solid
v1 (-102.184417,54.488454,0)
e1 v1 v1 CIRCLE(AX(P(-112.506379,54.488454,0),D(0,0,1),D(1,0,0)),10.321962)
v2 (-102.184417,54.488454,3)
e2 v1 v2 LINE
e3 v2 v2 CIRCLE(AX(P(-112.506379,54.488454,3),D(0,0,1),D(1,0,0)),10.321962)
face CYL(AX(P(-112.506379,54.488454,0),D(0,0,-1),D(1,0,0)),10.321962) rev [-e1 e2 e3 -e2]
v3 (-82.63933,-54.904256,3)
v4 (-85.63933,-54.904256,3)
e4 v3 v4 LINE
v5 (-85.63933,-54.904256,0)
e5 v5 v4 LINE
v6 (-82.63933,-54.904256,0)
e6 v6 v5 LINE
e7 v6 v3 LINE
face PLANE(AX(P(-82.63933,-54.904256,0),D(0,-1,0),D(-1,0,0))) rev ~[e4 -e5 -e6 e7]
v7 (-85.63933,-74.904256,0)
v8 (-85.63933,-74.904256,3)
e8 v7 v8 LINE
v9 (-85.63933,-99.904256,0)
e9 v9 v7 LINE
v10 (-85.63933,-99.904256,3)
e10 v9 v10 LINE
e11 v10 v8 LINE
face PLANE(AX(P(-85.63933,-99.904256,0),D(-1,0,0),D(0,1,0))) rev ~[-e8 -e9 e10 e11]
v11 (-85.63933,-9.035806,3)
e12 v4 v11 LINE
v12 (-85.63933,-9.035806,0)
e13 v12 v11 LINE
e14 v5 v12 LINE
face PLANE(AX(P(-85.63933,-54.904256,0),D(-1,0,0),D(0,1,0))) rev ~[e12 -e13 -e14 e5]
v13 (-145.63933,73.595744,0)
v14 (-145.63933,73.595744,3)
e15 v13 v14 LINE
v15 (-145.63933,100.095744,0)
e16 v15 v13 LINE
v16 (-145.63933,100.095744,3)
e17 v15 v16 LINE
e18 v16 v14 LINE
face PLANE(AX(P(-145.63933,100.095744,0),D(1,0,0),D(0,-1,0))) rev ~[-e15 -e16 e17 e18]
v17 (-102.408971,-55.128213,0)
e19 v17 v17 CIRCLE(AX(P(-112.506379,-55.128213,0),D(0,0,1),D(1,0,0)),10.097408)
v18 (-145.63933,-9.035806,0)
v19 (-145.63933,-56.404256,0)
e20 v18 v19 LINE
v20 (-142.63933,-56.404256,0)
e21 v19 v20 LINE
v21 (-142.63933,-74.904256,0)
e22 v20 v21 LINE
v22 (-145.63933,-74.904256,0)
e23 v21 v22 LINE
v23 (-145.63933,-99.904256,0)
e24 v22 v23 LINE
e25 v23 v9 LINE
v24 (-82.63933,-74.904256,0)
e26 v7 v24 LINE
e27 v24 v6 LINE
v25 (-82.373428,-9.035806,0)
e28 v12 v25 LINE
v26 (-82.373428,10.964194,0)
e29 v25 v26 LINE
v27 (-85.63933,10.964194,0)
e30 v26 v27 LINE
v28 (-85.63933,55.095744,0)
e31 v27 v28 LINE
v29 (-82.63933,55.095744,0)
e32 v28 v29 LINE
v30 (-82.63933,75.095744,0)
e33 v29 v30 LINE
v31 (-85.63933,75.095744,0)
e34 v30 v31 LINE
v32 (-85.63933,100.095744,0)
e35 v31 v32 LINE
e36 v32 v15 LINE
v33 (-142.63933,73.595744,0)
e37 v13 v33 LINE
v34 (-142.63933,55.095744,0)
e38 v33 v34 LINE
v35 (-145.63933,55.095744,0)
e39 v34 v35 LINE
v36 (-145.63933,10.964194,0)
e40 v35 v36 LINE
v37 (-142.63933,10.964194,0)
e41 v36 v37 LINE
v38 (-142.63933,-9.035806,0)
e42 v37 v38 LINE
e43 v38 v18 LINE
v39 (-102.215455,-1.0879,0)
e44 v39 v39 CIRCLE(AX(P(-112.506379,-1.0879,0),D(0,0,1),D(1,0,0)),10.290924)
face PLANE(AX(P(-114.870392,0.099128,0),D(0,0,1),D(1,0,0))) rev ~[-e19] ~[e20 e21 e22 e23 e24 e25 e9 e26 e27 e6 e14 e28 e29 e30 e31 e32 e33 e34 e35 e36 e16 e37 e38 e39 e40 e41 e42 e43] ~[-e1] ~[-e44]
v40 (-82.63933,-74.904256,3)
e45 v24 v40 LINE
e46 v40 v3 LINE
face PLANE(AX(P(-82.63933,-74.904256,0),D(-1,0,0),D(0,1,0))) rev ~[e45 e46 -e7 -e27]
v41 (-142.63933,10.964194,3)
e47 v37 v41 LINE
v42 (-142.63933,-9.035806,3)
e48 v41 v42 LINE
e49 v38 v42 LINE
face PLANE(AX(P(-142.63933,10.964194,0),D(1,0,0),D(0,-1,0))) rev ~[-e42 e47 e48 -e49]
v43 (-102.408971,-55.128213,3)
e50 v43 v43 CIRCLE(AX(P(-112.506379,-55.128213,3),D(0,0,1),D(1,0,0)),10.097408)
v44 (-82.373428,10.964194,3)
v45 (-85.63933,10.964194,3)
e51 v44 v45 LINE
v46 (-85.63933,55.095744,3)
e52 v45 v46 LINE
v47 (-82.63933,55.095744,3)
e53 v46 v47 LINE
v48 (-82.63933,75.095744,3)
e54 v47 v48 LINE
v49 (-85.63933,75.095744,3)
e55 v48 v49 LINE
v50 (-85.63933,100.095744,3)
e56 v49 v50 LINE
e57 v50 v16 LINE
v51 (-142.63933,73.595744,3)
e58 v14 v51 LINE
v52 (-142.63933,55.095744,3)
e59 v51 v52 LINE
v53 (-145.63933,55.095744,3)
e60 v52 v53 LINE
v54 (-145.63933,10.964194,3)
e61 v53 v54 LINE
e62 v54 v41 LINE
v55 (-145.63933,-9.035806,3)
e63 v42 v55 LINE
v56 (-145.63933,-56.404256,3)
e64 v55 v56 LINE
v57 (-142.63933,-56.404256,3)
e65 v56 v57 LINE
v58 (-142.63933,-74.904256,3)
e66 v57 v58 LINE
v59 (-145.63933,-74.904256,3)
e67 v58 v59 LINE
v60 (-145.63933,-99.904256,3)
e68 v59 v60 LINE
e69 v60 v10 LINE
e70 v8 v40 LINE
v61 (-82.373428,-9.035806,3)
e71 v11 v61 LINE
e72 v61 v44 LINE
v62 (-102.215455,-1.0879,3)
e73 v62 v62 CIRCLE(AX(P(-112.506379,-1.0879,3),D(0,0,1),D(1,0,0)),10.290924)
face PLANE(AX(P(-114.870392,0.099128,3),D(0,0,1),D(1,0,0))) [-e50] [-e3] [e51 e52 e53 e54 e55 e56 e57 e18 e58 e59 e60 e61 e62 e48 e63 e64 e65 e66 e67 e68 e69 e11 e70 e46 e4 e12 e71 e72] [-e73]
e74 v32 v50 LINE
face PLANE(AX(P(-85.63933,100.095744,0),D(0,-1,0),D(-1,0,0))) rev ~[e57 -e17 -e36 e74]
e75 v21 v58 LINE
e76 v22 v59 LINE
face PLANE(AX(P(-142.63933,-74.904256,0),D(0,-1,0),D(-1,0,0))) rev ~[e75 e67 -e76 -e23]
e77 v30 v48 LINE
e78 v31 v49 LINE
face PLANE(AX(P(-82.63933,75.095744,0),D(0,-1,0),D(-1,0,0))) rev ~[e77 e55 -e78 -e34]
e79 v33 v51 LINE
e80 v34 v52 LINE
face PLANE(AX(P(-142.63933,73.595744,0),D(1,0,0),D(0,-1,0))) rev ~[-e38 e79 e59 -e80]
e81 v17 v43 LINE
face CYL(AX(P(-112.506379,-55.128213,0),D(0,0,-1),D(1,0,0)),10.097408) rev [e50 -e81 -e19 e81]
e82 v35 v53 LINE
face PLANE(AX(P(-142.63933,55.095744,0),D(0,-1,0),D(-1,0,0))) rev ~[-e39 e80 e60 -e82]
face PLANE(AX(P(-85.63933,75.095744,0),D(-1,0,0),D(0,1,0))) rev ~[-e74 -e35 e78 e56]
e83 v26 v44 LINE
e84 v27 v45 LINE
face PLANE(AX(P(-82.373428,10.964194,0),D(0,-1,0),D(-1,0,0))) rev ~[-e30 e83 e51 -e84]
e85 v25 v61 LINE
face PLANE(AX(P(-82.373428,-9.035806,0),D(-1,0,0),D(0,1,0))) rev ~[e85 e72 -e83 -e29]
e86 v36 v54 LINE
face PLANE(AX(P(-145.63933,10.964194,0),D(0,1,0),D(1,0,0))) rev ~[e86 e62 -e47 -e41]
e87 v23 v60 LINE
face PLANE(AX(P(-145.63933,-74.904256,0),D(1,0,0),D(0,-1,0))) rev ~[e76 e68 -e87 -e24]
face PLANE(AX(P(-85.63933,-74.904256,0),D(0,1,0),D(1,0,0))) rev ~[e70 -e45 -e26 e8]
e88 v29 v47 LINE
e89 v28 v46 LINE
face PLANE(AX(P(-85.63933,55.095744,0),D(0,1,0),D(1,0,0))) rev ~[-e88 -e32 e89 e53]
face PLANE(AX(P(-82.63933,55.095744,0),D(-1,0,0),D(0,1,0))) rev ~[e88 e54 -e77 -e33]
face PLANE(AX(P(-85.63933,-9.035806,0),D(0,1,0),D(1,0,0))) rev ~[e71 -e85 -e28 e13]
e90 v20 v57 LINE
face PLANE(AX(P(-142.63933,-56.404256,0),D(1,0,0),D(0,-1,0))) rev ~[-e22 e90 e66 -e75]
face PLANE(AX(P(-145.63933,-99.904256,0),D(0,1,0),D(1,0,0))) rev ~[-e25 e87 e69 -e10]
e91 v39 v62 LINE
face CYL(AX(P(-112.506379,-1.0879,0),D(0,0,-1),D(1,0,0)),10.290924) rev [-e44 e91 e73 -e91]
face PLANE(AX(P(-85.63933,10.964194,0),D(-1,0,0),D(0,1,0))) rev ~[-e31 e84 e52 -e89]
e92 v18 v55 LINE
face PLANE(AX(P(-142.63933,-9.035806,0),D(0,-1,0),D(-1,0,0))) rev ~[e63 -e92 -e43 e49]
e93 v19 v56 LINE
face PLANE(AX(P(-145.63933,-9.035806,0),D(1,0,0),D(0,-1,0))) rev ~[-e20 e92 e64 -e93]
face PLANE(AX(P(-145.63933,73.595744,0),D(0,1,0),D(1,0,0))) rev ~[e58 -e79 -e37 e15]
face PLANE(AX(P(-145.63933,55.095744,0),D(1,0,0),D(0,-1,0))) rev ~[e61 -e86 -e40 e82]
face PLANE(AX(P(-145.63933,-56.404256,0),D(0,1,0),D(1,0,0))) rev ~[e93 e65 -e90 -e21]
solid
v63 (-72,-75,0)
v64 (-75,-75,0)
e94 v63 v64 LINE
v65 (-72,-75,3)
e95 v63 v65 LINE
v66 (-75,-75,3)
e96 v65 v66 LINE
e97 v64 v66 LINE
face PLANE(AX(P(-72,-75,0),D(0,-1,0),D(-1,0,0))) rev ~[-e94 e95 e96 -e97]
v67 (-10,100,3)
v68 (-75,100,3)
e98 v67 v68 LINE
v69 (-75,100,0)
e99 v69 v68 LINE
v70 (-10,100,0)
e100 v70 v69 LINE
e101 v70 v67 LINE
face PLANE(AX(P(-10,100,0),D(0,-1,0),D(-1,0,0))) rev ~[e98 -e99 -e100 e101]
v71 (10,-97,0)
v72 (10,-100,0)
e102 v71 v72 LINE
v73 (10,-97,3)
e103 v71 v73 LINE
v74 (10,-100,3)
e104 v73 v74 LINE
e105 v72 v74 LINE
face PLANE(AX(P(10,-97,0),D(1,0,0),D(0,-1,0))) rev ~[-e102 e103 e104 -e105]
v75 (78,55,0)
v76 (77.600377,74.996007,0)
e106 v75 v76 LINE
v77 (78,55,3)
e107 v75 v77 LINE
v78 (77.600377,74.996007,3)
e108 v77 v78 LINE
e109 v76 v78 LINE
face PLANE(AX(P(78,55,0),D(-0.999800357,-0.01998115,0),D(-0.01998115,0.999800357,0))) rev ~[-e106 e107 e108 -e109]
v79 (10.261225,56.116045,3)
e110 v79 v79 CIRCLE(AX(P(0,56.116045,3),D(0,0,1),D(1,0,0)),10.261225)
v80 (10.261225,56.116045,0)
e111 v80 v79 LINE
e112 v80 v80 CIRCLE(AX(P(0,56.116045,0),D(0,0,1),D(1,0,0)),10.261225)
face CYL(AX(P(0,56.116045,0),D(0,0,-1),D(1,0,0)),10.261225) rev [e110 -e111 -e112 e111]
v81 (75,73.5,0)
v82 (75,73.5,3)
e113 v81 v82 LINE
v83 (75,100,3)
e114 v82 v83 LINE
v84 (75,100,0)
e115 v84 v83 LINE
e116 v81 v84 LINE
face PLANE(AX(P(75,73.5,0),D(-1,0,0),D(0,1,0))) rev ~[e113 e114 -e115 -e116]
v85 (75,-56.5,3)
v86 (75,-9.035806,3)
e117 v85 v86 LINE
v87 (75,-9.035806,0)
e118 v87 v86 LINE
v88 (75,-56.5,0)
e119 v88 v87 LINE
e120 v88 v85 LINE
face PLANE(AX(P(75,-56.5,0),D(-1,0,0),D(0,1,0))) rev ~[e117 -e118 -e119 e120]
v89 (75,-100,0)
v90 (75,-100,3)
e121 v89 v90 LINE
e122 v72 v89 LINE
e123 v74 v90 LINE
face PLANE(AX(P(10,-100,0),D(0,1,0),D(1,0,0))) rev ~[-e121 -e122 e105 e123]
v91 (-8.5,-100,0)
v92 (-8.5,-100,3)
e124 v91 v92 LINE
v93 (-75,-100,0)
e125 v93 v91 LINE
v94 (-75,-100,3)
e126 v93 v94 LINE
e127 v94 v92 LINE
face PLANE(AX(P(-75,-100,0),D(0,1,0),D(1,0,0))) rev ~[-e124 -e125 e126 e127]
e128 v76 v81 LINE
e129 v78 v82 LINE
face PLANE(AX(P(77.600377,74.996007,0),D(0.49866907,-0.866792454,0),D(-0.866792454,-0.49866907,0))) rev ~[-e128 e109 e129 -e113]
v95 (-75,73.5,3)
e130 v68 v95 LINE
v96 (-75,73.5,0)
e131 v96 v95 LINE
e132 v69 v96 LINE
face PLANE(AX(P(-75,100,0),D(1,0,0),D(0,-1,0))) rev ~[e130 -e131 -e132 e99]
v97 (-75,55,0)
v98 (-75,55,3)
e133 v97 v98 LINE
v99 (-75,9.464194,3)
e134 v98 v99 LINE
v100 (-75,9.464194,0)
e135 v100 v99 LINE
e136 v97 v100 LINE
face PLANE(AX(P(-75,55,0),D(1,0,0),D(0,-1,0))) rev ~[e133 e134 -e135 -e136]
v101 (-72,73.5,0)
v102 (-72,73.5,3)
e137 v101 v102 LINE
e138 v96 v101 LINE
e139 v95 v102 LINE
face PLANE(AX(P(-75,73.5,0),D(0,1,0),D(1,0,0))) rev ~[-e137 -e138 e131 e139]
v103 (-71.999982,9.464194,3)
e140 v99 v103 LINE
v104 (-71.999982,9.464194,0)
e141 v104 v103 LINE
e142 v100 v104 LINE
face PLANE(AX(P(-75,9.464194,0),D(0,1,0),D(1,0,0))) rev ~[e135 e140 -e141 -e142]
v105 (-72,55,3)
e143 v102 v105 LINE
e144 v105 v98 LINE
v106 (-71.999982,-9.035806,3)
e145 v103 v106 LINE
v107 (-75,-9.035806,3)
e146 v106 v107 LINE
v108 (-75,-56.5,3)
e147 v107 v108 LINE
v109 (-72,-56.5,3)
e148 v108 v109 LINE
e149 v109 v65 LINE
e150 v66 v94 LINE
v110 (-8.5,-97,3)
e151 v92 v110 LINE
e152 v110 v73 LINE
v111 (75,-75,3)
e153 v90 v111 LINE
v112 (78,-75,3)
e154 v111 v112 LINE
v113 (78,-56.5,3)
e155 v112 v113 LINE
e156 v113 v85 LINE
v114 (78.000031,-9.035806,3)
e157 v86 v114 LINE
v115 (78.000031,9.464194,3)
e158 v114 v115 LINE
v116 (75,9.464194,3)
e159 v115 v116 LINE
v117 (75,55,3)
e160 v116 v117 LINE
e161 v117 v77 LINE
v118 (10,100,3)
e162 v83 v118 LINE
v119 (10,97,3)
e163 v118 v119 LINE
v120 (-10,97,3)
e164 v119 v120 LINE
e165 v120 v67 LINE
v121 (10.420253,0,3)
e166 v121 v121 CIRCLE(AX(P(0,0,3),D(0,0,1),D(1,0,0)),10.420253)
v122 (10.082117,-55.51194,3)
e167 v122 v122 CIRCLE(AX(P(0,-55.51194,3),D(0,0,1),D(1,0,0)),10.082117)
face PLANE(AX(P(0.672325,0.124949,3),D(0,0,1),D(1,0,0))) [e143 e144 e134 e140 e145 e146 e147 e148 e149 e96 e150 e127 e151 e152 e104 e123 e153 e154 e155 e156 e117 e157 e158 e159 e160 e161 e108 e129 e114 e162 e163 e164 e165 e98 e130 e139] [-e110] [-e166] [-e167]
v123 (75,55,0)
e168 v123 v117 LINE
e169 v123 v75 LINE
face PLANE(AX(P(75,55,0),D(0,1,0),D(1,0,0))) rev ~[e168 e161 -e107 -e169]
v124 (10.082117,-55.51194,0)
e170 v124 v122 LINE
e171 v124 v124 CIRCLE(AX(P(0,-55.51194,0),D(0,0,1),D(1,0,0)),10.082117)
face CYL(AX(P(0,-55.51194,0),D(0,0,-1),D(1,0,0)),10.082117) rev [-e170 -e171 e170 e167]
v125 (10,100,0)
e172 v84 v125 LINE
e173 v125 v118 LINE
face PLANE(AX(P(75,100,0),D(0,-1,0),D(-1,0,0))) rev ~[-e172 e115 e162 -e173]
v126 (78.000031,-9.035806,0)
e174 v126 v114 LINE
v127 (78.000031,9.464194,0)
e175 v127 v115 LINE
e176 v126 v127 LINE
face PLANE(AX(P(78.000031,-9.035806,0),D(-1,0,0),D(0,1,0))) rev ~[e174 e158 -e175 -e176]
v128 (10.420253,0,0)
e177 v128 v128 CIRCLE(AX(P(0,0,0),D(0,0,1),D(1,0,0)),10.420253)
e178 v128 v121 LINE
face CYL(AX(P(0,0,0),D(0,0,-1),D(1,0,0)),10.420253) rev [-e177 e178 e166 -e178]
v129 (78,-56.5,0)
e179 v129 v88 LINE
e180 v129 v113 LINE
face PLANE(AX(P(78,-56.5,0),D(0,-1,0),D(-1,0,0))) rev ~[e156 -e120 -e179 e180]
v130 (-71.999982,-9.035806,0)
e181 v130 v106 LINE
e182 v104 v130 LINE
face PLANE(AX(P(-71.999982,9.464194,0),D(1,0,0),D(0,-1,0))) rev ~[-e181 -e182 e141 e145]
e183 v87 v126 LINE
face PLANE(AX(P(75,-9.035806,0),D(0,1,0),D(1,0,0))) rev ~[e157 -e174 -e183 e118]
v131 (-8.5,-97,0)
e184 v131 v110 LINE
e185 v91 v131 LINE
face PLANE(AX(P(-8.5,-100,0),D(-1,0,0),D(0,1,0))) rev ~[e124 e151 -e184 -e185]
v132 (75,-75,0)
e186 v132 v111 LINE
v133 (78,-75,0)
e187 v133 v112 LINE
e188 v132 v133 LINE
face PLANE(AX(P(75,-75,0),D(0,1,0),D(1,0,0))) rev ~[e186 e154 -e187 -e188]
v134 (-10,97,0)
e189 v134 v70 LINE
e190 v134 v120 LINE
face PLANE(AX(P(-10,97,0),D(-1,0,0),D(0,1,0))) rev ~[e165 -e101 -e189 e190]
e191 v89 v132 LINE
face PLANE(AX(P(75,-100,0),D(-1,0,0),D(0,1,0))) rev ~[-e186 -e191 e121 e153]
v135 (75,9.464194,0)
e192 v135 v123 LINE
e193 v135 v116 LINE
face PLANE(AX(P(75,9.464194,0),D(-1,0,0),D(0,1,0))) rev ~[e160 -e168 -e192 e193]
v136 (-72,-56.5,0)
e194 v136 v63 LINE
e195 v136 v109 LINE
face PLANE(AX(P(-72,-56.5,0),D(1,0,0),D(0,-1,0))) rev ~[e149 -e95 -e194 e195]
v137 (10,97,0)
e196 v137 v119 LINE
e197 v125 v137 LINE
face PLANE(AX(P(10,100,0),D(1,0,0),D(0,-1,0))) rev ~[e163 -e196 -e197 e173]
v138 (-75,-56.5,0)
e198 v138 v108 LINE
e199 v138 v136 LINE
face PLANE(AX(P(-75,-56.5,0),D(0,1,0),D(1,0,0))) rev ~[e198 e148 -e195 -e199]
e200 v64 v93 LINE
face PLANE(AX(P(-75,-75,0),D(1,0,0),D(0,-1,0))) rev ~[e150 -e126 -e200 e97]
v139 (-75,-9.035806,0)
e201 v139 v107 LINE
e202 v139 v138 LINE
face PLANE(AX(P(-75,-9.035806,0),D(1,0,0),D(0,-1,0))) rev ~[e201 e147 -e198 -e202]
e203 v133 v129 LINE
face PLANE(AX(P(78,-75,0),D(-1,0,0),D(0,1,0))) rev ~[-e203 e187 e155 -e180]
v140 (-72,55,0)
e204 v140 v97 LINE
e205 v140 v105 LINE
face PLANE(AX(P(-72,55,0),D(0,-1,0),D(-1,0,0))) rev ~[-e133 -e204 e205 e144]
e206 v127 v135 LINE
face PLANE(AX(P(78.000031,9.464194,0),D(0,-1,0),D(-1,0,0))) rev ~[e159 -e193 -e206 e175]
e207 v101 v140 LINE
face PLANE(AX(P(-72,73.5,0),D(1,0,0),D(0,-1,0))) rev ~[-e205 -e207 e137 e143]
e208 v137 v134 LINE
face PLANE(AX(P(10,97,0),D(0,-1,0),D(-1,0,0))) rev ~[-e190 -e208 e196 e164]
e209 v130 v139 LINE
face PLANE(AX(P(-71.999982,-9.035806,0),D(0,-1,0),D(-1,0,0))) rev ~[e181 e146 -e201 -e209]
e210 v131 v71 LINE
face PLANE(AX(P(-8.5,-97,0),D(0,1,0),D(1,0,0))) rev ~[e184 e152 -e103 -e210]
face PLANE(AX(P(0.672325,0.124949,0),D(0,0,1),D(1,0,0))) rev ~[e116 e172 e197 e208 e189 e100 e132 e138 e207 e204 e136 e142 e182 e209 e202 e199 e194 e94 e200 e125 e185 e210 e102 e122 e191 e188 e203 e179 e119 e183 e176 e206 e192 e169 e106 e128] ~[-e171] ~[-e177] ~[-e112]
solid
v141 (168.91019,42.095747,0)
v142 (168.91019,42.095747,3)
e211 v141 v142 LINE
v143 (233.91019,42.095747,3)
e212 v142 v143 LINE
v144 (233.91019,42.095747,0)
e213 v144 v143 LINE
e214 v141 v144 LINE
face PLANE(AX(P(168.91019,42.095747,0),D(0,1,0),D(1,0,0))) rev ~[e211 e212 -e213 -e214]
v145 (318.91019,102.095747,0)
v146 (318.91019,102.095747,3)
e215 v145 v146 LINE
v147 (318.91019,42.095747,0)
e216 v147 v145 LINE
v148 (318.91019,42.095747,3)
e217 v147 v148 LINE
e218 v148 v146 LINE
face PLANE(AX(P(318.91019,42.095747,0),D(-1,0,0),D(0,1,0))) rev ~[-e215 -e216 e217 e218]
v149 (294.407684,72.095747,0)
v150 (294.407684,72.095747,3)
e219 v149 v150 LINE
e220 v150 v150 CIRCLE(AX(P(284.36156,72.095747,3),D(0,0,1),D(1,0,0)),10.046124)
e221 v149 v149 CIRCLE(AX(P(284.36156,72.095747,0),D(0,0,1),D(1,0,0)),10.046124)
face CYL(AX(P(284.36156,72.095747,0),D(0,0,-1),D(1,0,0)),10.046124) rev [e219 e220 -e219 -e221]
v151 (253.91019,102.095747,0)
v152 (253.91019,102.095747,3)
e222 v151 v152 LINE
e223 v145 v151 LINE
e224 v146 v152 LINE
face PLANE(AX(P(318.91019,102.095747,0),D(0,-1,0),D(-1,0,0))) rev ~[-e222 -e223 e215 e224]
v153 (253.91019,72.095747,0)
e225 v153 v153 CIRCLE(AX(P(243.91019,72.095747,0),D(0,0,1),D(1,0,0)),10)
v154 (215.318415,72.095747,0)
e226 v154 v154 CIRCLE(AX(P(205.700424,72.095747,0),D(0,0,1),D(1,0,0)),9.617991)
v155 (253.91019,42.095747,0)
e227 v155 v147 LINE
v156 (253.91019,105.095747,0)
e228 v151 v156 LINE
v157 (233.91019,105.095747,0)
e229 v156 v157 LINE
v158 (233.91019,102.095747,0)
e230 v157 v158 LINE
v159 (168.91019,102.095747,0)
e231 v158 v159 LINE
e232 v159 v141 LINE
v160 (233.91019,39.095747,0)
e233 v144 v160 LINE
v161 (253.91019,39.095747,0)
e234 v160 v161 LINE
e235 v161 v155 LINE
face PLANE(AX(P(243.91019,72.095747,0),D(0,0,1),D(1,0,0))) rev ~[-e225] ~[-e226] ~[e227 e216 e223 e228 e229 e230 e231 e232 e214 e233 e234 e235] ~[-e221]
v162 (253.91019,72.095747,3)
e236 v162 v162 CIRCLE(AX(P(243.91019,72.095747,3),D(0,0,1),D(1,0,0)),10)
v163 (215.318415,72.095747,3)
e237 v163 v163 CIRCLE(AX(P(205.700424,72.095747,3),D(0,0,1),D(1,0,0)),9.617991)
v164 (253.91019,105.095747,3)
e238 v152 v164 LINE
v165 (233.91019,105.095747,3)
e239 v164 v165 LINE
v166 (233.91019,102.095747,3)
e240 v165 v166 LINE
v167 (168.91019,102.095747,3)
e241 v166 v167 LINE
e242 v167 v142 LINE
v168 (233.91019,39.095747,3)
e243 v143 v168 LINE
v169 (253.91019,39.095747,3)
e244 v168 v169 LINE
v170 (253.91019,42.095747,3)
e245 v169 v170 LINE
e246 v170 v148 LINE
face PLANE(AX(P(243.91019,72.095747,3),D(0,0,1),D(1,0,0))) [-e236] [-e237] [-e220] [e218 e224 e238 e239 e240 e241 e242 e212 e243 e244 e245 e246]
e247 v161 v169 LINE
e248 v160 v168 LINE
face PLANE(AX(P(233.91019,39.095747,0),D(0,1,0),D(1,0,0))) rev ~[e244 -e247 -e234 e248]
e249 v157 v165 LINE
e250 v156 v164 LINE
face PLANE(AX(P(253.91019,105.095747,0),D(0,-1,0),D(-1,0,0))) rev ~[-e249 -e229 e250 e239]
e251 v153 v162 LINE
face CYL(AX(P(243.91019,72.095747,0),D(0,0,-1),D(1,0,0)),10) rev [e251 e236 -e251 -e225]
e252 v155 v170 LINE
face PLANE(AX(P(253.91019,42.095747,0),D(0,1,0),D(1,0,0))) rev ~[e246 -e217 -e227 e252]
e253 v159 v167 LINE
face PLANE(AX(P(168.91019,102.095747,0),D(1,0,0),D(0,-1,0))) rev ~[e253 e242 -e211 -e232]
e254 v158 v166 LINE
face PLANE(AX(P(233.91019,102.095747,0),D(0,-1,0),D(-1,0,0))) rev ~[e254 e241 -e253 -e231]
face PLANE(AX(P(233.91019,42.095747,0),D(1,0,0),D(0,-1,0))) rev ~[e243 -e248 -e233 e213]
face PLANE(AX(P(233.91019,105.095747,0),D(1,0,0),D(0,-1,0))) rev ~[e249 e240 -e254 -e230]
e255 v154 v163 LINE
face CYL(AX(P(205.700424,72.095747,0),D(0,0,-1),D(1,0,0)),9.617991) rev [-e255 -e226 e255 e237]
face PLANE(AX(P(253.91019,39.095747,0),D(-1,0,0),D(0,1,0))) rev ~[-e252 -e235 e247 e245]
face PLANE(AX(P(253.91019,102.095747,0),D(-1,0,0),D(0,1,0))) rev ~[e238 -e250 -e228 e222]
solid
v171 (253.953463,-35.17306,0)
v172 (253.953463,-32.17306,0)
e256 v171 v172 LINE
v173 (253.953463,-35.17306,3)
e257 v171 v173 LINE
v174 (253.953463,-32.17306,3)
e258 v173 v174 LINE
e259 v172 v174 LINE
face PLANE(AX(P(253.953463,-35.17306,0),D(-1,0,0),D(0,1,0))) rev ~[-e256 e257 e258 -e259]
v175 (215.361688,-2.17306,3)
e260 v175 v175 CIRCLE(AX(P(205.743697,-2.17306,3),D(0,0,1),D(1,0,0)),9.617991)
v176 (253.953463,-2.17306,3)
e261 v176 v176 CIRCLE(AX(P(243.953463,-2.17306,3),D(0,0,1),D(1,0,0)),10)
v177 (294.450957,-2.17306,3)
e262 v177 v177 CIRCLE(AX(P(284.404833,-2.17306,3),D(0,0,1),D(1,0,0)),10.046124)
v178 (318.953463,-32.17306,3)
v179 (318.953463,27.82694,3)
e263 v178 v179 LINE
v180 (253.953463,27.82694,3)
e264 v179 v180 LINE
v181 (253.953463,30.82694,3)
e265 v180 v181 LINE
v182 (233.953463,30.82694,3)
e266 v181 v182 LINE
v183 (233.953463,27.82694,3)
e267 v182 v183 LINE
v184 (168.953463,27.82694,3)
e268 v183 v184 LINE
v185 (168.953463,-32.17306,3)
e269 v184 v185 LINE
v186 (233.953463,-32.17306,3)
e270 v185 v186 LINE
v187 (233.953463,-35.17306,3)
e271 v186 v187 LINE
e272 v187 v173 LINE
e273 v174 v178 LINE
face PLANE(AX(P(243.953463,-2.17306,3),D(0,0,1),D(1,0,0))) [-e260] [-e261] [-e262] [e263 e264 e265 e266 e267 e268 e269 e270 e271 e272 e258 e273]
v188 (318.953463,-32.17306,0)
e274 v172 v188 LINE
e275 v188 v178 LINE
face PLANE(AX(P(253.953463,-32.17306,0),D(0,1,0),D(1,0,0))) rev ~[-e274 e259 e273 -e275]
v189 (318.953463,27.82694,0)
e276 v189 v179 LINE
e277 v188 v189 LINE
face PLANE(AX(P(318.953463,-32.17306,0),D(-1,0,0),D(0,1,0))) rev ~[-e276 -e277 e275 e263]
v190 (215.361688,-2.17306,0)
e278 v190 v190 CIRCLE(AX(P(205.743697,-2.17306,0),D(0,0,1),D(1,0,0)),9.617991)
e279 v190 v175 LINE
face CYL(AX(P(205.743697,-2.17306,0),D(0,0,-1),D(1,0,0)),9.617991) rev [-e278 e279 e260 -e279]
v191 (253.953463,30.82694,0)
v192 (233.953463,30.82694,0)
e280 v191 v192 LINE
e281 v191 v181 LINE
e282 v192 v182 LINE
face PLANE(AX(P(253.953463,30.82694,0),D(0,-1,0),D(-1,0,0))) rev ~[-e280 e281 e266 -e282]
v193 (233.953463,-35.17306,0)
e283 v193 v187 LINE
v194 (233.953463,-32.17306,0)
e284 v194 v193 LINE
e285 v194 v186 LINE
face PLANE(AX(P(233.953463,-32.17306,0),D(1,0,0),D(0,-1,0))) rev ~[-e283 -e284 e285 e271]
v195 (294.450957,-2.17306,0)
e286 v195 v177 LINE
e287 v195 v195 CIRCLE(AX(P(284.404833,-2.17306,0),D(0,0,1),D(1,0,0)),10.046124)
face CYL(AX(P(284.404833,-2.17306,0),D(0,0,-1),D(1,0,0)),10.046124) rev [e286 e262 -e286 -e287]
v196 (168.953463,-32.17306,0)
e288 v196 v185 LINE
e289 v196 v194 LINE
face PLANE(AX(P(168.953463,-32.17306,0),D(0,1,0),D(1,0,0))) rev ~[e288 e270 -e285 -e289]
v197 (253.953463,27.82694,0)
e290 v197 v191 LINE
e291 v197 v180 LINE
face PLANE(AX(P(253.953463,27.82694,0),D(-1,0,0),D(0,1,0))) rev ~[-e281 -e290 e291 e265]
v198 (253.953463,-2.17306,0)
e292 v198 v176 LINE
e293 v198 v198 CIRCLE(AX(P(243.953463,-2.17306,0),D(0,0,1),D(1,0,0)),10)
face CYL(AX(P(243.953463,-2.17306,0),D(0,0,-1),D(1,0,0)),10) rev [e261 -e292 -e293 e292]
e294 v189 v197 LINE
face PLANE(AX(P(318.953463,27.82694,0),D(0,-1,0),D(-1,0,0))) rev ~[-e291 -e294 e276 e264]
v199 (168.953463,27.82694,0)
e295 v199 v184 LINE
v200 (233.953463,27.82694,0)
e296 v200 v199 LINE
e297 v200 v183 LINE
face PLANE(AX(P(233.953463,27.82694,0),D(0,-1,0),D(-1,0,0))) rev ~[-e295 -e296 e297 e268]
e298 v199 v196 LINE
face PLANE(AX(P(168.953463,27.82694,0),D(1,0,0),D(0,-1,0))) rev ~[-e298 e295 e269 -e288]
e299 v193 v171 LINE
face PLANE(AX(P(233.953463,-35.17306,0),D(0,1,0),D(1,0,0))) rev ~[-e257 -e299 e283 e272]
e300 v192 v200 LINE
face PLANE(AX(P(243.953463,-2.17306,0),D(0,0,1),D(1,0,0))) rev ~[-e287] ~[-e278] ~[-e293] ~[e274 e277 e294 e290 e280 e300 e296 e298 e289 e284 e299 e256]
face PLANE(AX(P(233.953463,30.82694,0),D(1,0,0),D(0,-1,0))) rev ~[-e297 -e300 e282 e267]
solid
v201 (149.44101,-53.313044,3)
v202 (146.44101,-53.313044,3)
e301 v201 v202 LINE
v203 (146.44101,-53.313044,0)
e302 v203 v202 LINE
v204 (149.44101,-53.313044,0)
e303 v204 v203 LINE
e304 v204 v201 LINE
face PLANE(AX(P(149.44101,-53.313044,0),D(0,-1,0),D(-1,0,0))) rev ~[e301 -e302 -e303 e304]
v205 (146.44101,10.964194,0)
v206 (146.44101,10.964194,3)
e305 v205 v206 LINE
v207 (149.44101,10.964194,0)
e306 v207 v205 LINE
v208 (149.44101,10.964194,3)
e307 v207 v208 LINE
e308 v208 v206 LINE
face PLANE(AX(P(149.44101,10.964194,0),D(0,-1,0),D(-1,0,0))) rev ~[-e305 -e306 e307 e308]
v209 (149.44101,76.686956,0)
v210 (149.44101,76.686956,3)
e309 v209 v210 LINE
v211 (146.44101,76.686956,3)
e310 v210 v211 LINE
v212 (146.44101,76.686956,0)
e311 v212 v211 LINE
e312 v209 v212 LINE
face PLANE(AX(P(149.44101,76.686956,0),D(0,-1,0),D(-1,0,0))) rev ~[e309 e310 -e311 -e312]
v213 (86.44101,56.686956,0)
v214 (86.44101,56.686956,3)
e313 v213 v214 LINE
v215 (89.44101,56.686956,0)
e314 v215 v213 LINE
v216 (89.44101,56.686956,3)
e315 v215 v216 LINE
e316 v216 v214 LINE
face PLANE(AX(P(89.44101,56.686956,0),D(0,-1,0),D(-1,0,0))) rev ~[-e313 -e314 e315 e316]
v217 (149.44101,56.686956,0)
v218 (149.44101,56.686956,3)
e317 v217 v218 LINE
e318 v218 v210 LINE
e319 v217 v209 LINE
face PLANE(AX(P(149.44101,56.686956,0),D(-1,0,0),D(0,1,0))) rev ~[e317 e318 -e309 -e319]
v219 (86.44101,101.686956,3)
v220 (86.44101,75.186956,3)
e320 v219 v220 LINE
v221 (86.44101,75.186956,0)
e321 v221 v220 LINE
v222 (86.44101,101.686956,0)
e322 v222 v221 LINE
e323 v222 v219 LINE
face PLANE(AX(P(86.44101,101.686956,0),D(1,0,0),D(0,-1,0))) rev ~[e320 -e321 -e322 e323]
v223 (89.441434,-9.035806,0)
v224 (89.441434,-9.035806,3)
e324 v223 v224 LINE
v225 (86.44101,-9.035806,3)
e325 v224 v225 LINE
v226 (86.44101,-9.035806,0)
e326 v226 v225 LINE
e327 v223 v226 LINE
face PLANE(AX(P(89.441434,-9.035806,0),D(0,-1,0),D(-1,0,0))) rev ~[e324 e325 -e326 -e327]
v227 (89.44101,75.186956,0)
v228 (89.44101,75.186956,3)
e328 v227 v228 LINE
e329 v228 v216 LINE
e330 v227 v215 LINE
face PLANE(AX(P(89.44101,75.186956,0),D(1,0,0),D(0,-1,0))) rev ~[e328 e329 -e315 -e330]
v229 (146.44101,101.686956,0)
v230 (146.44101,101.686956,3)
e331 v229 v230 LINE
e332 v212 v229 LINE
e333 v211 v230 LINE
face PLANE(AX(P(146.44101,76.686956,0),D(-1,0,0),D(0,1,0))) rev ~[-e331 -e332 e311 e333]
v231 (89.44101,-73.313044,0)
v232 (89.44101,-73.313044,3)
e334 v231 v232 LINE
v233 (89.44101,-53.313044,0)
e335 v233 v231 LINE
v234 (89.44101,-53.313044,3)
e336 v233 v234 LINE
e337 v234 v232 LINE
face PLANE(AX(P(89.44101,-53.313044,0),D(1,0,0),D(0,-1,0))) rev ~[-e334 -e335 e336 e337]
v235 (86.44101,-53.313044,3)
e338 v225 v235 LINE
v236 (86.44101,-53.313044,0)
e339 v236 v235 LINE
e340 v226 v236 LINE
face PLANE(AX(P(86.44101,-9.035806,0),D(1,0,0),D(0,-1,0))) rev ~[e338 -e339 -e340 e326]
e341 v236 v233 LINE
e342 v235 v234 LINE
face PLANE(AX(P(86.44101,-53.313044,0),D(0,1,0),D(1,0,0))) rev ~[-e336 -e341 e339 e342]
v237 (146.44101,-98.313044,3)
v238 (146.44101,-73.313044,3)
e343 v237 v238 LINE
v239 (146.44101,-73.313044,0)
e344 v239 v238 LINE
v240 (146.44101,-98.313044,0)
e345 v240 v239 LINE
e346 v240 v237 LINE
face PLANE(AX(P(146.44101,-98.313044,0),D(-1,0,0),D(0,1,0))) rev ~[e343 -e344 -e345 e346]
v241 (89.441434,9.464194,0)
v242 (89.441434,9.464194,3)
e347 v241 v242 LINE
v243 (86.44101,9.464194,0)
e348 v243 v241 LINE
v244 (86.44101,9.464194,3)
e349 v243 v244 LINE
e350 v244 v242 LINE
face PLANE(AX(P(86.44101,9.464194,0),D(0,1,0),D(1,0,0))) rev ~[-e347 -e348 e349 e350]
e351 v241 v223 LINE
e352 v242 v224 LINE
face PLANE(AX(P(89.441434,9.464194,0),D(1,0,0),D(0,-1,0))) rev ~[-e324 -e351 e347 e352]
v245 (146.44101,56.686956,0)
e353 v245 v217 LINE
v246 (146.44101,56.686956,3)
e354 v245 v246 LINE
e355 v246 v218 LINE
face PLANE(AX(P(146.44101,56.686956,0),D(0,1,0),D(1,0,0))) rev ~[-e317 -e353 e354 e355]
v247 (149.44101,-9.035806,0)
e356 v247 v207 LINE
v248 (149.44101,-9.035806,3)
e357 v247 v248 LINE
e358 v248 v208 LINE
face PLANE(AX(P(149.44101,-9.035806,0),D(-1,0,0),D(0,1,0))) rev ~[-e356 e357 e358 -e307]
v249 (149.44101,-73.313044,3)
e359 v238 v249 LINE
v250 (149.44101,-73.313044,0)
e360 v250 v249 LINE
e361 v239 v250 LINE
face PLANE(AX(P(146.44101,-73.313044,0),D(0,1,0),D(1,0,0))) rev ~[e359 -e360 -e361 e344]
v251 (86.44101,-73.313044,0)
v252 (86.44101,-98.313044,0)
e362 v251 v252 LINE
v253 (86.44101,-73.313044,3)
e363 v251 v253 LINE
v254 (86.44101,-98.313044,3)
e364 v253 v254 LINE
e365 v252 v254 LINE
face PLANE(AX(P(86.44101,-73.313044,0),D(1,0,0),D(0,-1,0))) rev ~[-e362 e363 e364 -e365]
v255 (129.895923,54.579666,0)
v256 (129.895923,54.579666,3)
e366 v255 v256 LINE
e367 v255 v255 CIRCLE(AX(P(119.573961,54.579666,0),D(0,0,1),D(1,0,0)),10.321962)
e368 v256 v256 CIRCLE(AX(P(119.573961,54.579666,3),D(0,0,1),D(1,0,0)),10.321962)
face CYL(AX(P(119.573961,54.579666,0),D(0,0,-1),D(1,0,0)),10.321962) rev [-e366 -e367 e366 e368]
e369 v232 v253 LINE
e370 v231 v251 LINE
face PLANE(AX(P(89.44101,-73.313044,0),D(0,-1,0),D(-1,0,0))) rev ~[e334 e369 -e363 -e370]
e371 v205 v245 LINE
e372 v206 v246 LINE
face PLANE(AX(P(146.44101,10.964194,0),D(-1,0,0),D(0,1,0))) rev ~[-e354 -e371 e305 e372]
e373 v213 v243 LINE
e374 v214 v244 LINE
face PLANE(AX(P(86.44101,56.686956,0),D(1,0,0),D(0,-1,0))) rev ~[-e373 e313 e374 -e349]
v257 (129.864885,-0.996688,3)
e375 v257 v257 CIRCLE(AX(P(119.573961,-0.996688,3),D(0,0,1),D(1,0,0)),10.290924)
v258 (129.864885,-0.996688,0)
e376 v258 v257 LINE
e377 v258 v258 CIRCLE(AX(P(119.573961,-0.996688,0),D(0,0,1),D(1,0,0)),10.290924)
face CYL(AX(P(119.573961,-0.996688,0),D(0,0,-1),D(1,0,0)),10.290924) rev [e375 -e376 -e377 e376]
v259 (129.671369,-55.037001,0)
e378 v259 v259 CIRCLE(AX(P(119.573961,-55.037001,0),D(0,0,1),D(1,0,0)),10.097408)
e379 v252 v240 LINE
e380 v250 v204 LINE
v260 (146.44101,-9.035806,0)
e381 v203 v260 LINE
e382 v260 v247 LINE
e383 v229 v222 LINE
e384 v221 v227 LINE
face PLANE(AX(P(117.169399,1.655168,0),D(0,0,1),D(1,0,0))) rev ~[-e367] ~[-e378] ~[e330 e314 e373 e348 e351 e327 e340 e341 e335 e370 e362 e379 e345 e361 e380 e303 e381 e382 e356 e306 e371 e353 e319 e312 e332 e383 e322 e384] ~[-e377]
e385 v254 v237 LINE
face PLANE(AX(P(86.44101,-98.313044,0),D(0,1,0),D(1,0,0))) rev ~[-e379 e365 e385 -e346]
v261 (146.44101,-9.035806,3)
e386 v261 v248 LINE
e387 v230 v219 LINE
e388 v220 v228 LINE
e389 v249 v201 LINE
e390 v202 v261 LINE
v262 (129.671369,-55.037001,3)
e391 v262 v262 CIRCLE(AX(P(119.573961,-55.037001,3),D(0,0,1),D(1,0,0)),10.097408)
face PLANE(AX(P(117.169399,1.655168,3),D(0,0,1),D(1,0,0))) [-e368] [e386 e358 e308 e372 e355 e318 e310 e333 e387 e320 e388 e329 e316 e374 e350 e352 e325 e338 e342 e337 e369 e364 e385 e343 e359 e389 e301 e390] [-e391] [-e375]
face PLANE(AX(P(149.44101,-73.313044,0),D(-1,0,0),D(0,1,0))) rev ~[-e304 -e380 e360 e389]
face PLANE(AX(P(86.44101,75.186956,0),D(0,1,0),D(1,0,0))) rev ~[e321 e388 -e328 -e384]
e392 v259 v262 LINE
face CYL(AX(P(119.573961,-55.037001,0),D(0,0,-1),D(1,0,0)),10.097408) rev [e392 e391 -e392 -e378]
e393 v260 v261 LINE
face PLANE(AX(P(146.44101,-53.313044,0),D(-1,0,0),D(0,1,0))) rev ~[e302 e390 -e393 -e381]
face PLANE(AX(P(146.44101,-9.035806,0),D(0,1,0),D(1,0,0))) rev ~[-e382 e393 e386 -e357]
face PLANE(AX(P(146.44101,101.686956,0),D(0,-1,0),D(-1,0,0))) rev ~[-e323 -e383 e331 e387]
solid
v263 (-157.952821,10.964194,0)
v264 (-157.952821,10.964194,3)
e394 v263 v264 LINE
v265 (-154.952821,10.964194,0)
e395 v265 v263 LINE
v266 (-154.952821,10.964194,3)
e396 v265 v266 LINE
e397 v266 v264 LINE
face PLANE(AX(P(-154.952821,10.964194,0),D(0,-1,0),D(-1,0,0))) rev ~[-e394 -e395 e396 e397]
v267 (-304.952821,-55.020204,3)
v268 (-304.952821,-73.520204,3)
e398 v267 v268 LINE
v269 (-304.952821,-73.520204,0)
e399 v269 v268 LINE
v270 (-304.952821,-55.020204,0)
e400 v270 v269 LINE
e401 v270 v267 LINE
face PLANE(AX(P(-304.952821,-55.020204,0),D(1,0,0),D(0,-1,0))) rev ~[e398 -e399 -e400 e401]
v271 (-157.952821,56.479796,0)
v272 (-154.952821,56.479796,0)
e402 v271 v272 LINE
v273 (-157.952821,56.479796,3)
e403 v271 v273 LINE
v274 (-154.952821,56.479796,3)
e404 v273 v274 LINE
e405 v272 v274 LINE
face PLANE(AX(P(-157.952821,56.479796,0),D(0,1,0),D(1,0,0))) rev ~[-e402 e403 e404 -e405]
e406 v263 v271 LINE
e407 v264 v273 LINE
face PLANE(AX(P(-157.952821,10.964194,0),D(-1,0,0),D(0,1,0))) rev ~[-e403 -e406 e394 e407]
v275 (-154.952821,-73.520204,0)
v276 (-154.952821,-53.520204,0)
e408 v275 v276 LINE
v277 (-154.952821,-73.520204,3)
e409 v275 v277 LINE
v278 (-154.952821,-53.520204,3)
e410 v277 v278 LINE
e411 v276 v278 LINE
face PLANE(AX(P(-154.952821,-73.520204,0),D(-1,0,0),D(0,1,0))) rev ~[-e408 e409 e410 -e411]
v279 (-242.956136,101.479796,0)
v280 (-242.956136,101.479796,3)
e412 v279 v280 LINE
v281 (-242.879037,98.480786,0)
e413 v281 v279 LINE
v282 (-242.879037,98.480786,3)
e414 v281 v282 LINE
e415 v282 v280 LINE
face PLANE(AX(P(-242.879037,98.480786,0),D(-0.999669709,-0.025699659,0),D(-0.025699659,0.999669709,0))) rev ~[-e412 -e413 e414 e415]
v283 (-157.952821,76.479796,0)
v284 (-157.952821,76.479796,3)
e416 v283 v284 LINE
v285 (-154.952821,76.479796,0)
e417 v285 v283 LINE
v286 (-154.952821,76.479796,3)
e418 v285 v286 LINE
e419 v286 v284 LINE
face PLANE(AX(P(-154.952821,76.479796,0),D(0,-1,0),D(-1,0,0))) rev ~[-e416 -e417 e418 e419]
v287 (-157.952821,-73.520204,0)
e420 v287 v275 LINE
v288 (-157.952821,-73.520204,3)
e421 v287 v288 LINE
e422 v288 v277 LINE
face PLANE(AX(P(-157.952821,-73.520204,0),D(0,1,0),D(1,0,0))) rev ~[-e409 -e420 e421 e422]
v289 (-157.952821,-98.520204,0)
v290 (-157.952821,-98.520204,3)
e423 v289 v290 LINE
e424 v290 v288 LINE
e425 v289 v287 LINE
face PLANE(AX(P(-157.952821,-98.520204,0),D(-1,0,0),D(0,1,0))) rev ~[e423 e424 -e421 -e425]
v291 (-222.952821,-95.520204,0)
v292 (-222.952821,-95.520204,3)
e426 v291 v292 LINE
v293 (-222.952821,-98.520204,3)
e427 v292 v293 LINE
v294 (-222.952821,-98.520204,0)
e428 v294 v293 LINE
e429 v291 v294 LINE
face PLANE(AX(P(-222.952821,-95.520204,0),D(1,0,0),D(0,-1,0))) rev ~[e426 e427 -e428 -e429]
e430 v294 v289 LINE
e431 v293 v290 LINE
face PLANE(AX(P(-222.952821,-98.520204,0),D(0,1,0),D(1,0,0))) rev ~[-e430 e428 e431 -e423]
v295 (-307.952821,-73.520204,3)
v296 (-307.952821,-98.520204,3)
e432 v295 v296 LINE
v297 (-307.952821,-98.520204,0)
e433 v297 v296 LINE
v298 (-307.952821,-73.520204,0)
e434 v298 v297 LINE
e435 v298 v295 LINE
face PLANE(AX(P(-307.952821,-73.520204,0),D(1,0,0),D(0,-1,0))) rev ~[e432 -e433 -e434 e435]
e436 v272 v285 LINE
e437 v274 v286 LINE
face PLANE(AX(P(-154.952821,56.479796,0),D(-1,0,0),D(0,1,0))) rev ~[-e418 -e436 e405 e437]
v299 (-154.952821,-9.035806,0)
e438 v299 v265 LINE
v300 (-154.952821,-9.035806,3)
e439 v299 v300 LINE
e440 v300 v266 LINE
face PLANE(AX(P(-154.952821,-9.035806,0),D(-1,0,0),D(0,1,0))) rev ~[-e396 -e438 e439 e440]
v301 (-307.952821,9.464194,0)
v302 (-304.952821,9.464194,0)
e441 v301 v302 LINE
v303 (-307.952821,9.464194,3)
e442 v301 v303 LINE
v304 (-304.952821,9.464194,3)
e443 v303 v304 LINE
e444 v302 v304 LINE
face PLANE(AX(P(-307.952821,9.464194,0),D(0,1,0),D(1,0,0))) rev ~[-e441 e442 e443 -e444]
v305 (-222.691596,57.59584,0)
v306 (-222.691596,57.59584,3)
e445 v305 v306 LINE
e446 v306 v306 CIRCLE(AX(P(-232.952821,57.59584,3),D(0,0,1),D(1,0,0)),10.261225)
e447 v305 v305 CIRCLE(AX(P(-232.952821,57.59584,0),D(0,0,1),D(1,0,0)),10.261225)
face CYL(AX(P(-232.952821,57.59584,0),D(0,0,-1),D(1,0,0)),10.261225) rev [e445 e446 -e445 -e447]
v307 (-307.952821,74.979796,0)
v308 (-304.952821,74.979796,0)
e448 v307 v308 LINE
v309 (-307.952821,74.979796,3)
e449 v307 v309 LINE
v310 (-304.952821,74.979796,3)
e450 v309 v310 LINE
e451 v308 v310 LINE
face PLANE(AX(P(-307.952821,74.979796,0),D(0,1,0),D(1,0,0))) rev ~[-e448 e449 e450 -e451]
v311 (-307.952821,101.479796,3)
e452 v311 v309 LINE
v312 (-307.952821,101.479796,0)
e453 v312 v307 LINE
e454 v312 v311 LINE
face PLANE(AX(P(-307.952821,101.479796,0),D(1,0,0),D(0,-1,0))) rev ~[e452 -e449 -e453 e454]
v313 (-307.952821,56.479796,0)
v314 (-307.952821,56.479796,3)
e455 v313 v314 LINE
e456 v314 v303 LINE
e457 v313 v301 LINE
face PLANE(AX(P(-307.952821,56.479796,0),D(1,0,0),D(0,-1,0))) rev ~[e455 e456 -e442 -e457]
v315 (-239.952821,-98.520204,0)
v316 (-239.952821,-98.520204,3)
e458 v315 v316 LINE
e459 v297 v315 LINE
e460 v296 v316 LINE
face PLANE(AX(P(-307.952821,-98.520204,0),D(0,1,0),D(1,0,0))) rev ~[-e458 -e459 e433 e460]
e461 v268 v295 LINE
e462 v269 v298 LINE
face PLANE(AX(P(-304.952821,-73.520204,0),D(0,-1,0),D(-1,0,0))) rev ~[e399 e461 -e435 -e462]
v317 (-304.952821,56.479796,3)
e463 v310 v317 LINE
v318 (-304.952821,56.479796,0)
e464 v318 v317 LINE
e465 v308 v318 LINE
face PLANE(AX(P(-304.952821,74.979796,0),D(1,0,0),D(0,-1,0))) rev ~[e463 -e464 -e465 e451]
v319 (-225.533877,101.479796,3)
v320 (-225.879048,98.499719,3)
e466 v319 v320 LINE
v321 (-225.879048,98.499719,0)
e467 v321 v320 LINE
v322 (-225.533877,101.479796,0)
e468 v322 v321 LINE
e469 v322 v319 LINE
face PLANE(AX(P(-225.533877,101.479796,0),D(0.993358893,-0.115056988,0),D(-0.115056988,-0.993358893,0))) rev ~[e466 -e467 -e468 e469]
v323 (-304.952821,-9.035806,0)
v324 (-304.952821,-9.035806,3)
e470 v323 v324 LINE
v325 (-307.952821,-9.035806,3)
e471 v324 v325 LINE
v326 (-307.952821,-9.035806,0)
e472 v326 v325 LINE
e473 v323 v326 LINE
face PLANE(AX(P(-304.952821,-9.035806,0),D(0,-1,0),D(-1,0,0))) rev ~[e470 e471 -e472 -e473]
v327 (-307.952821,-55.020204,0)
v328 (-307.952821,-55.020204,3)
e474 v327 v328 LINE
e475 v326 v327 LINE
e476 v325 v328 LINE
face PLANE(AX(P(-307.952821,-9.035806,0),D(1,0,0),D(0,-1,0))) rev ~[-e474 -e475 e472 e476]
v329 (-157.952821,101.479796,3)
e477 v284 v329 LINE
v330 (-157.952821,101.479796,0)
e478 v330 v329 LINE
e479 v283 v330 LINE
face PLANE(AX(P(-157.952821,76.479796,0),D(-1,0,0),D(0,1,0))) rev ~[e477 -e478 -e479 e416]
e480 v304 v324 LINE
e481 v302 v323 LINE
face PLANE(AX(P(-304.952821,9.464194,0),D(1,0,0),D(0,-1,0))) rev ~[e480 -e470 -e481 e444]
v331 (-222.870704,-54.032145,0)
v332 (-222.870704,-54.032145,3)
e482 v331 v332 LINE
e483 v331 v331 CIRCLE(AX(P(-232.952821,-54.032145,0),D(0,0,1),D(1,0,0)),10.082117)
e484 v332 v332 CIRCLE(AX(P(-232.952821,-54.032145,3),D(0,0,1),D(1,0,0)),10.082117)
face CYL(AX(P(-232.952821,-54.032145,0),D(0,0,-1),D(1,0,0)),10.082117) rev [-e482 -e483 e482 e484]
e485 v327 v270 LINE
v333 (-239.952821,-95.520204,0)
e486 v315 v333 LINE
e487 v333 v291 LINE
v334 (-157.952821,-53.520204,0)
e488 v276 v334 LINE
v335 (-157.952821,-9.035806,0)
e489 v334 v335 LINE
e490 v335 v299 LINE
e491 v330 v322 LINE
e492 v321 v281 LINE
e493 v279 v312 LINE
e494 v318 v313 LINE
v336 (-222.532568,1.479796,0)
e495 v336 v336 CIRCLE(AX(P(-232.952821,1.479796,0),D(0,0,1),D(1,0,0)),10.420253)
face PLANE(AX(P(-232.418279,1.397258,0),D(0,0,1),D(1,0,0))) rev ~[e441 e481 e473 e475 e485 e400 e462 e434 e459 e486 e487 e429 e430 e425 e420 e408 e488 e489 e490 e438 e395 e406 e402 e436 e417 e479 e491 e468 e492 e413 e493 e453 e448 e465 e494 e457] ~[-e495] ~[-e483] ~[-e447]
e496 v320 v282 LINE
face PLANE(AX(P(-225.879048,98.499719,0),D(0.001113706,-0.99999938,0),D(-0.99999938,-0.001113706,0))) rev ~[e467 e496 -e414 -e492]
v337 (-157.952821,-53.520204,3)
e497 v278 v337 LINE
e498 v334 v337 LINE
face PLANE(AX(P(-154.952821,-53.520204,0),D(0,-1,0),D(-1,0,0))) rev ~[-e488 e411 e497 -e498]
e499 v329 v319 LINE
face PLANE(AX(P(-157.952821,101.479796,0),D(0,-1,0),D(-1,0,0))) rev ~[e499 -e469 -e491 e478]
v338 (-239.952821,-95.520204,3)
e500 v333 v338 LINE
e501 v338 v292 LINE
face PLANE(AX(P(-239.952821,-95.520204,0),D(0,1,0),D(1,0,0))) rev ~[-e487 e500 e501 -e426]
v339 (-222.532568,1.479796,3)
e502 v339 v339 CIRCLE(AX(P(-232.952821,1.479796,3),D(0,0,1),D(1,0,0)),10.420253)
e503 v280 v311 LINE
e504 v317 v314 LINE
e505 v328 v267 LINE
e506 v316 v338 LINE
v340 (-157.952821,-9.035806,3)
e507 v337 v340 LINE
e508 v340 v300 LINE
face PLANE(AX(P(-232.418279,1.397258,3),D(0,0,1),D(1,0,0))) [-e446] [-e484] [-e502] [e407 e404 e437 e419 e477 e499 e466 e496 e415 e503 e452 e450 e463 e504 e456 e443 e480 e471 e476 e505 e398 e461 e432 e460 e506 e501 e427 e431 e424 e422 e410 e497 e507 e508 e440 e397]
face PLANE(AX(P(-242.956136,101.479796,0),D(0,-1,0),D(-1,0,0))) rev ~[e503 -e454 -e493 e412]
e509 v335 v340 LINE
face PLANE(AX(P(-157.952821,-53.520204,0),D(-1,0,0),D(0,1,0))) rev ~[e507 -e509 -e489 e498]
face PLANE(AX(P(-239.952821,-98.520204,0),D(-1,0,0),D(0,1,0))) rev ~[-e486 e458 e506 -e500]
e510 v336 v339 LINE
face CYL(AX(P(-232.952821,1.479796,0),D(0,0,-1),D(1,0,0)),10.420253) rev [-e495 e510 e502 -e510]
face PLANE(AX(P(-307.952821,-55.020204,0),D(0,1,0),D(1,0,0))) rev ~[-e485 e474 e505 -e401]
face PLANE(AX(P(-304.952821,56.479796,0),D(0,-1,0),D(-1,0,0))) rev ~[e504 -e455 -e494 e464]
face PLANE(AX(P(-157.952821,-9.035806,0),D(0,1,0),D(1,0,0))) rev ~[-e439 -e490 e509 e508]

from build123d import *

# Parameters (mm, degrees)
F0_R     = 10.082117
F0_R_2   = 10.420253
F0_R_3   = 10.261225
F0_R_4   = 10.097408
F0_R_5   = 10.290924
F0_R_6   = 10.321962
F0_R_7   = 9.617991
F0_R_8   = 10
F0_R_9   = 10.046124
F1_DEPTH = 3


with BuildPart() as f1:
    # F0 (on Top) → F1 (new body)
    with BuildSketch(Plane.XY):
        Polygon((10, -100), (75, -100), (75, -75), (78, -75), (78, -56.5), (75, -56.5), (75, -9.035806), (78.000031, -9.035806), (78.000031, 9.464194), (75, 9.464194), (75, 55), (78, 55), (77.600377, 74.996007), (75, 73.5), (75, 100), (10, 100), (10, 97), (-10, 97), (-10, 100), (-75, 100), (-75, 73.5), (-72, 73.5), (-72, 55), (-75, 55), (-75, 9.464194), (-71.999982, 9.464194), (-71.999982, -9.035806), (-75, -9.035806), (-75, -56.5), (-72, -56.5), (-72, -75), (-75, -75), (-75, -100), (-8.5, -100), (-8.5, -97), (10, -97), align=None)
        with Locations((0, -55.51194)):
            Circle(F0_R, mode=Mode.SUBTRACT)
        Circle(F0_R_2, mode=Mode.SUBTRACT)
        with Locations((0, 56.116045)):
            Circle(F0_R_3, mode=Mode.SUBTRACT)
        Polygon((-145.63933, -99.904256), (-85.63933, -99.904256), (-85.63933, -74.904256), (-82.63933, -74.904256), (-82.63933, -54.904256), (-85.63933, -54.904256), (-85.63933, -9.035806), (-82.373428, -9.035806), (-82.373428, 10.964194), (-85.63933, 10.964194), (-85.63933, 55.095744), (-82.63933, 55.095744), (-82.63933, 75.095744), (-85.63933, 75.095744), (-85.63933, 100.095744), (-145.63933, 100.095744), (-145.63933, 73.595744), (-142.63933, 73.595744), (-142.63933, 55.095744), (-145.63933, 55.095744), (-145.63933, 10.964194), (-142.63933, 10.964194), (-142.63933, -9.035806), (-145.63933, -9.035806), (-145.63933, -56.404256), (-142.63933, -56.404256), (-142.63933, -74.904256), (-145.63933, -74.904256), align=None)
        with Locations((-112.506379, -55.128213)):
            Circle(F0_R_4, mode=Mode.SUBTRACT)
        with Locations((-112.506379, -1.0879)):
            Circle(F0_R_5, mode=Mode.SUBTRACT)
        with Locations((-112.506379, 54.488454)):
            Circle(F0_R_6, mode=Mode.SUBTRACT)
        Polygon((86.44101, -98.313044), (146.44101, -98.313044), (146.44101, -73.313044), (149.44101, -73.313044), (149.44101, -53.313044), (146.44101, -53.313044), (146.44101, -9.035806), (149.44101, -9.035806), (149.44101, 10.964194), (146.44101, 10.964194), (146.44101, 56.686956), (149.44101, 56.686956), (149.44101, 76.686956), (146.44101, 76.686956), (146.44101, 101.686956), (86.44101, 101.686956), (86.44101, 75.186956), (89.44101, 75.186956), (89.44101, 56.686956), (86.44101, 56.686956), (86.44101, 9.464194), (89.441434, 9.464194), (89.441434, -9.035806), (86.44101, -9.035806), (86.44101, -53.313044), (89.44101, -53.313044), (89.44101, -73.313044), (86.44101, -73.313044), align=None)
        with Locations((119.573961, -55.037001)):
            Circle(F0_R_4, mode=Mode.SUBTRACT)
        with Locations((119.573961, -0.996688)):
            Circle(F0_R_5, mode=Mode.SUBTRACT)
        with Locations((119.573961, 54.579666)):
            Circle(F0_R_6, mode=Mode.SUBTRACT)
        Polygon((-222.952821, -98.520204), (-157.952821, -98.520204), (-157.952821, -73.520204), (-154.952821, -73.520204), (-154.952821, -53.520204), (-157.952821, -53.520204), (-157.952821, -9.035806), (-154.952821, -9.035806), (-154.952821, 10.964194), (-157.952821, 10.964194), (-157.952821, 56.479796), (-154.952821, 56.479796), (-154.952821, 76.479796), (-157.952821, 76.479796), (-157.952821, 101.479796), (-225.533877, 101.479796), (-225.879048, 98.499719), (-242.879037, 98.480786), (-242.956136, 101.479796), (-307.952821, 101.479796), (-307.952821, 74.979796), (-304.952821, 74.979796), (-304.952821, 56.479796), (-307.952821, 56.479796), (-307.952821, 9.464194), (-304.952821, 9.464194), (-304.952821, -9.035806), (-307.952821, -9.035806), (-307.952821, -55.020204), (-304.952821, -55.020204), (-304.952821, -73.520204), (-307.952821, -73.520204), (-307.952821, -98.520204), (-239.952821, -98.520204), (-239.952821, -95.520204), (-222.952821, -95.520204), align=None)
        with Locations((-232.952821, -54.032145)):
            Circle(F0_R, mode=Mode.SUBTRACT)
        with Locations((-232.952821, 1.479796)):
            Circle(F0_R_2, mode=Mode.SUBTRACT)
        with Locations((-232.952821, 57.59584)):
            Circle(F0_R_3, mode=Mode.SUBTRACT)
        Polygon((168.91019, 102.095747), (168.91019, 42.095747), (233.91019, 42.095747), (233.91019, 39.095747), (253.91019, 39.095747), (253.91019, 42.095747), (318.91019, 42.095747), (318.91019, 102.095747), (253.91019, 102.095747), (253.91019, 105.095747), (233.91019, 105.095747), (233.91019, 102.095747), align=None)
        with Locations((205.700424, 72.095747)):
            Circle(F0_R_7, mode=Mode.SUBTRACT)
        with Locations((243.91019, 72.095747)):
            Circle(F0_R_8, mode=Mode.SUBTRACT)
        with Locations((284.36156, 72.095747)):
            Circle(F0_R_9, mode=Mode.SUBTRACT)
        Polygon((168.953463, 27.82694), (168.953463, -32.17306), (233.953463, -32.17306), (233.953463, -35.17306), (253.953463, -35.17306), (253.953463, -32.17306), (318.953463, -32.17306), (318.953463, 27.82694), (253.953463, 27.82694), (253.953463, 30.82694), (233.953463, 30.82694), (233.953463, 27.82694), align=None)
        with Locations((205.743697, -2.17306)):
            Circle(F0_R_7, mode=Mode.SUBTRACT)
        with Locations((243.953463, -2.17306)):
            Circle(F0_R_8, mode=Mode.SUBTRACT)
        with Locations((284.404833, -2.17306)):
            Circle(F0_R_9, mode=Mode.SUBTRACT)
    extrude(amount=F1_DEPTH)


solid = f1.part
